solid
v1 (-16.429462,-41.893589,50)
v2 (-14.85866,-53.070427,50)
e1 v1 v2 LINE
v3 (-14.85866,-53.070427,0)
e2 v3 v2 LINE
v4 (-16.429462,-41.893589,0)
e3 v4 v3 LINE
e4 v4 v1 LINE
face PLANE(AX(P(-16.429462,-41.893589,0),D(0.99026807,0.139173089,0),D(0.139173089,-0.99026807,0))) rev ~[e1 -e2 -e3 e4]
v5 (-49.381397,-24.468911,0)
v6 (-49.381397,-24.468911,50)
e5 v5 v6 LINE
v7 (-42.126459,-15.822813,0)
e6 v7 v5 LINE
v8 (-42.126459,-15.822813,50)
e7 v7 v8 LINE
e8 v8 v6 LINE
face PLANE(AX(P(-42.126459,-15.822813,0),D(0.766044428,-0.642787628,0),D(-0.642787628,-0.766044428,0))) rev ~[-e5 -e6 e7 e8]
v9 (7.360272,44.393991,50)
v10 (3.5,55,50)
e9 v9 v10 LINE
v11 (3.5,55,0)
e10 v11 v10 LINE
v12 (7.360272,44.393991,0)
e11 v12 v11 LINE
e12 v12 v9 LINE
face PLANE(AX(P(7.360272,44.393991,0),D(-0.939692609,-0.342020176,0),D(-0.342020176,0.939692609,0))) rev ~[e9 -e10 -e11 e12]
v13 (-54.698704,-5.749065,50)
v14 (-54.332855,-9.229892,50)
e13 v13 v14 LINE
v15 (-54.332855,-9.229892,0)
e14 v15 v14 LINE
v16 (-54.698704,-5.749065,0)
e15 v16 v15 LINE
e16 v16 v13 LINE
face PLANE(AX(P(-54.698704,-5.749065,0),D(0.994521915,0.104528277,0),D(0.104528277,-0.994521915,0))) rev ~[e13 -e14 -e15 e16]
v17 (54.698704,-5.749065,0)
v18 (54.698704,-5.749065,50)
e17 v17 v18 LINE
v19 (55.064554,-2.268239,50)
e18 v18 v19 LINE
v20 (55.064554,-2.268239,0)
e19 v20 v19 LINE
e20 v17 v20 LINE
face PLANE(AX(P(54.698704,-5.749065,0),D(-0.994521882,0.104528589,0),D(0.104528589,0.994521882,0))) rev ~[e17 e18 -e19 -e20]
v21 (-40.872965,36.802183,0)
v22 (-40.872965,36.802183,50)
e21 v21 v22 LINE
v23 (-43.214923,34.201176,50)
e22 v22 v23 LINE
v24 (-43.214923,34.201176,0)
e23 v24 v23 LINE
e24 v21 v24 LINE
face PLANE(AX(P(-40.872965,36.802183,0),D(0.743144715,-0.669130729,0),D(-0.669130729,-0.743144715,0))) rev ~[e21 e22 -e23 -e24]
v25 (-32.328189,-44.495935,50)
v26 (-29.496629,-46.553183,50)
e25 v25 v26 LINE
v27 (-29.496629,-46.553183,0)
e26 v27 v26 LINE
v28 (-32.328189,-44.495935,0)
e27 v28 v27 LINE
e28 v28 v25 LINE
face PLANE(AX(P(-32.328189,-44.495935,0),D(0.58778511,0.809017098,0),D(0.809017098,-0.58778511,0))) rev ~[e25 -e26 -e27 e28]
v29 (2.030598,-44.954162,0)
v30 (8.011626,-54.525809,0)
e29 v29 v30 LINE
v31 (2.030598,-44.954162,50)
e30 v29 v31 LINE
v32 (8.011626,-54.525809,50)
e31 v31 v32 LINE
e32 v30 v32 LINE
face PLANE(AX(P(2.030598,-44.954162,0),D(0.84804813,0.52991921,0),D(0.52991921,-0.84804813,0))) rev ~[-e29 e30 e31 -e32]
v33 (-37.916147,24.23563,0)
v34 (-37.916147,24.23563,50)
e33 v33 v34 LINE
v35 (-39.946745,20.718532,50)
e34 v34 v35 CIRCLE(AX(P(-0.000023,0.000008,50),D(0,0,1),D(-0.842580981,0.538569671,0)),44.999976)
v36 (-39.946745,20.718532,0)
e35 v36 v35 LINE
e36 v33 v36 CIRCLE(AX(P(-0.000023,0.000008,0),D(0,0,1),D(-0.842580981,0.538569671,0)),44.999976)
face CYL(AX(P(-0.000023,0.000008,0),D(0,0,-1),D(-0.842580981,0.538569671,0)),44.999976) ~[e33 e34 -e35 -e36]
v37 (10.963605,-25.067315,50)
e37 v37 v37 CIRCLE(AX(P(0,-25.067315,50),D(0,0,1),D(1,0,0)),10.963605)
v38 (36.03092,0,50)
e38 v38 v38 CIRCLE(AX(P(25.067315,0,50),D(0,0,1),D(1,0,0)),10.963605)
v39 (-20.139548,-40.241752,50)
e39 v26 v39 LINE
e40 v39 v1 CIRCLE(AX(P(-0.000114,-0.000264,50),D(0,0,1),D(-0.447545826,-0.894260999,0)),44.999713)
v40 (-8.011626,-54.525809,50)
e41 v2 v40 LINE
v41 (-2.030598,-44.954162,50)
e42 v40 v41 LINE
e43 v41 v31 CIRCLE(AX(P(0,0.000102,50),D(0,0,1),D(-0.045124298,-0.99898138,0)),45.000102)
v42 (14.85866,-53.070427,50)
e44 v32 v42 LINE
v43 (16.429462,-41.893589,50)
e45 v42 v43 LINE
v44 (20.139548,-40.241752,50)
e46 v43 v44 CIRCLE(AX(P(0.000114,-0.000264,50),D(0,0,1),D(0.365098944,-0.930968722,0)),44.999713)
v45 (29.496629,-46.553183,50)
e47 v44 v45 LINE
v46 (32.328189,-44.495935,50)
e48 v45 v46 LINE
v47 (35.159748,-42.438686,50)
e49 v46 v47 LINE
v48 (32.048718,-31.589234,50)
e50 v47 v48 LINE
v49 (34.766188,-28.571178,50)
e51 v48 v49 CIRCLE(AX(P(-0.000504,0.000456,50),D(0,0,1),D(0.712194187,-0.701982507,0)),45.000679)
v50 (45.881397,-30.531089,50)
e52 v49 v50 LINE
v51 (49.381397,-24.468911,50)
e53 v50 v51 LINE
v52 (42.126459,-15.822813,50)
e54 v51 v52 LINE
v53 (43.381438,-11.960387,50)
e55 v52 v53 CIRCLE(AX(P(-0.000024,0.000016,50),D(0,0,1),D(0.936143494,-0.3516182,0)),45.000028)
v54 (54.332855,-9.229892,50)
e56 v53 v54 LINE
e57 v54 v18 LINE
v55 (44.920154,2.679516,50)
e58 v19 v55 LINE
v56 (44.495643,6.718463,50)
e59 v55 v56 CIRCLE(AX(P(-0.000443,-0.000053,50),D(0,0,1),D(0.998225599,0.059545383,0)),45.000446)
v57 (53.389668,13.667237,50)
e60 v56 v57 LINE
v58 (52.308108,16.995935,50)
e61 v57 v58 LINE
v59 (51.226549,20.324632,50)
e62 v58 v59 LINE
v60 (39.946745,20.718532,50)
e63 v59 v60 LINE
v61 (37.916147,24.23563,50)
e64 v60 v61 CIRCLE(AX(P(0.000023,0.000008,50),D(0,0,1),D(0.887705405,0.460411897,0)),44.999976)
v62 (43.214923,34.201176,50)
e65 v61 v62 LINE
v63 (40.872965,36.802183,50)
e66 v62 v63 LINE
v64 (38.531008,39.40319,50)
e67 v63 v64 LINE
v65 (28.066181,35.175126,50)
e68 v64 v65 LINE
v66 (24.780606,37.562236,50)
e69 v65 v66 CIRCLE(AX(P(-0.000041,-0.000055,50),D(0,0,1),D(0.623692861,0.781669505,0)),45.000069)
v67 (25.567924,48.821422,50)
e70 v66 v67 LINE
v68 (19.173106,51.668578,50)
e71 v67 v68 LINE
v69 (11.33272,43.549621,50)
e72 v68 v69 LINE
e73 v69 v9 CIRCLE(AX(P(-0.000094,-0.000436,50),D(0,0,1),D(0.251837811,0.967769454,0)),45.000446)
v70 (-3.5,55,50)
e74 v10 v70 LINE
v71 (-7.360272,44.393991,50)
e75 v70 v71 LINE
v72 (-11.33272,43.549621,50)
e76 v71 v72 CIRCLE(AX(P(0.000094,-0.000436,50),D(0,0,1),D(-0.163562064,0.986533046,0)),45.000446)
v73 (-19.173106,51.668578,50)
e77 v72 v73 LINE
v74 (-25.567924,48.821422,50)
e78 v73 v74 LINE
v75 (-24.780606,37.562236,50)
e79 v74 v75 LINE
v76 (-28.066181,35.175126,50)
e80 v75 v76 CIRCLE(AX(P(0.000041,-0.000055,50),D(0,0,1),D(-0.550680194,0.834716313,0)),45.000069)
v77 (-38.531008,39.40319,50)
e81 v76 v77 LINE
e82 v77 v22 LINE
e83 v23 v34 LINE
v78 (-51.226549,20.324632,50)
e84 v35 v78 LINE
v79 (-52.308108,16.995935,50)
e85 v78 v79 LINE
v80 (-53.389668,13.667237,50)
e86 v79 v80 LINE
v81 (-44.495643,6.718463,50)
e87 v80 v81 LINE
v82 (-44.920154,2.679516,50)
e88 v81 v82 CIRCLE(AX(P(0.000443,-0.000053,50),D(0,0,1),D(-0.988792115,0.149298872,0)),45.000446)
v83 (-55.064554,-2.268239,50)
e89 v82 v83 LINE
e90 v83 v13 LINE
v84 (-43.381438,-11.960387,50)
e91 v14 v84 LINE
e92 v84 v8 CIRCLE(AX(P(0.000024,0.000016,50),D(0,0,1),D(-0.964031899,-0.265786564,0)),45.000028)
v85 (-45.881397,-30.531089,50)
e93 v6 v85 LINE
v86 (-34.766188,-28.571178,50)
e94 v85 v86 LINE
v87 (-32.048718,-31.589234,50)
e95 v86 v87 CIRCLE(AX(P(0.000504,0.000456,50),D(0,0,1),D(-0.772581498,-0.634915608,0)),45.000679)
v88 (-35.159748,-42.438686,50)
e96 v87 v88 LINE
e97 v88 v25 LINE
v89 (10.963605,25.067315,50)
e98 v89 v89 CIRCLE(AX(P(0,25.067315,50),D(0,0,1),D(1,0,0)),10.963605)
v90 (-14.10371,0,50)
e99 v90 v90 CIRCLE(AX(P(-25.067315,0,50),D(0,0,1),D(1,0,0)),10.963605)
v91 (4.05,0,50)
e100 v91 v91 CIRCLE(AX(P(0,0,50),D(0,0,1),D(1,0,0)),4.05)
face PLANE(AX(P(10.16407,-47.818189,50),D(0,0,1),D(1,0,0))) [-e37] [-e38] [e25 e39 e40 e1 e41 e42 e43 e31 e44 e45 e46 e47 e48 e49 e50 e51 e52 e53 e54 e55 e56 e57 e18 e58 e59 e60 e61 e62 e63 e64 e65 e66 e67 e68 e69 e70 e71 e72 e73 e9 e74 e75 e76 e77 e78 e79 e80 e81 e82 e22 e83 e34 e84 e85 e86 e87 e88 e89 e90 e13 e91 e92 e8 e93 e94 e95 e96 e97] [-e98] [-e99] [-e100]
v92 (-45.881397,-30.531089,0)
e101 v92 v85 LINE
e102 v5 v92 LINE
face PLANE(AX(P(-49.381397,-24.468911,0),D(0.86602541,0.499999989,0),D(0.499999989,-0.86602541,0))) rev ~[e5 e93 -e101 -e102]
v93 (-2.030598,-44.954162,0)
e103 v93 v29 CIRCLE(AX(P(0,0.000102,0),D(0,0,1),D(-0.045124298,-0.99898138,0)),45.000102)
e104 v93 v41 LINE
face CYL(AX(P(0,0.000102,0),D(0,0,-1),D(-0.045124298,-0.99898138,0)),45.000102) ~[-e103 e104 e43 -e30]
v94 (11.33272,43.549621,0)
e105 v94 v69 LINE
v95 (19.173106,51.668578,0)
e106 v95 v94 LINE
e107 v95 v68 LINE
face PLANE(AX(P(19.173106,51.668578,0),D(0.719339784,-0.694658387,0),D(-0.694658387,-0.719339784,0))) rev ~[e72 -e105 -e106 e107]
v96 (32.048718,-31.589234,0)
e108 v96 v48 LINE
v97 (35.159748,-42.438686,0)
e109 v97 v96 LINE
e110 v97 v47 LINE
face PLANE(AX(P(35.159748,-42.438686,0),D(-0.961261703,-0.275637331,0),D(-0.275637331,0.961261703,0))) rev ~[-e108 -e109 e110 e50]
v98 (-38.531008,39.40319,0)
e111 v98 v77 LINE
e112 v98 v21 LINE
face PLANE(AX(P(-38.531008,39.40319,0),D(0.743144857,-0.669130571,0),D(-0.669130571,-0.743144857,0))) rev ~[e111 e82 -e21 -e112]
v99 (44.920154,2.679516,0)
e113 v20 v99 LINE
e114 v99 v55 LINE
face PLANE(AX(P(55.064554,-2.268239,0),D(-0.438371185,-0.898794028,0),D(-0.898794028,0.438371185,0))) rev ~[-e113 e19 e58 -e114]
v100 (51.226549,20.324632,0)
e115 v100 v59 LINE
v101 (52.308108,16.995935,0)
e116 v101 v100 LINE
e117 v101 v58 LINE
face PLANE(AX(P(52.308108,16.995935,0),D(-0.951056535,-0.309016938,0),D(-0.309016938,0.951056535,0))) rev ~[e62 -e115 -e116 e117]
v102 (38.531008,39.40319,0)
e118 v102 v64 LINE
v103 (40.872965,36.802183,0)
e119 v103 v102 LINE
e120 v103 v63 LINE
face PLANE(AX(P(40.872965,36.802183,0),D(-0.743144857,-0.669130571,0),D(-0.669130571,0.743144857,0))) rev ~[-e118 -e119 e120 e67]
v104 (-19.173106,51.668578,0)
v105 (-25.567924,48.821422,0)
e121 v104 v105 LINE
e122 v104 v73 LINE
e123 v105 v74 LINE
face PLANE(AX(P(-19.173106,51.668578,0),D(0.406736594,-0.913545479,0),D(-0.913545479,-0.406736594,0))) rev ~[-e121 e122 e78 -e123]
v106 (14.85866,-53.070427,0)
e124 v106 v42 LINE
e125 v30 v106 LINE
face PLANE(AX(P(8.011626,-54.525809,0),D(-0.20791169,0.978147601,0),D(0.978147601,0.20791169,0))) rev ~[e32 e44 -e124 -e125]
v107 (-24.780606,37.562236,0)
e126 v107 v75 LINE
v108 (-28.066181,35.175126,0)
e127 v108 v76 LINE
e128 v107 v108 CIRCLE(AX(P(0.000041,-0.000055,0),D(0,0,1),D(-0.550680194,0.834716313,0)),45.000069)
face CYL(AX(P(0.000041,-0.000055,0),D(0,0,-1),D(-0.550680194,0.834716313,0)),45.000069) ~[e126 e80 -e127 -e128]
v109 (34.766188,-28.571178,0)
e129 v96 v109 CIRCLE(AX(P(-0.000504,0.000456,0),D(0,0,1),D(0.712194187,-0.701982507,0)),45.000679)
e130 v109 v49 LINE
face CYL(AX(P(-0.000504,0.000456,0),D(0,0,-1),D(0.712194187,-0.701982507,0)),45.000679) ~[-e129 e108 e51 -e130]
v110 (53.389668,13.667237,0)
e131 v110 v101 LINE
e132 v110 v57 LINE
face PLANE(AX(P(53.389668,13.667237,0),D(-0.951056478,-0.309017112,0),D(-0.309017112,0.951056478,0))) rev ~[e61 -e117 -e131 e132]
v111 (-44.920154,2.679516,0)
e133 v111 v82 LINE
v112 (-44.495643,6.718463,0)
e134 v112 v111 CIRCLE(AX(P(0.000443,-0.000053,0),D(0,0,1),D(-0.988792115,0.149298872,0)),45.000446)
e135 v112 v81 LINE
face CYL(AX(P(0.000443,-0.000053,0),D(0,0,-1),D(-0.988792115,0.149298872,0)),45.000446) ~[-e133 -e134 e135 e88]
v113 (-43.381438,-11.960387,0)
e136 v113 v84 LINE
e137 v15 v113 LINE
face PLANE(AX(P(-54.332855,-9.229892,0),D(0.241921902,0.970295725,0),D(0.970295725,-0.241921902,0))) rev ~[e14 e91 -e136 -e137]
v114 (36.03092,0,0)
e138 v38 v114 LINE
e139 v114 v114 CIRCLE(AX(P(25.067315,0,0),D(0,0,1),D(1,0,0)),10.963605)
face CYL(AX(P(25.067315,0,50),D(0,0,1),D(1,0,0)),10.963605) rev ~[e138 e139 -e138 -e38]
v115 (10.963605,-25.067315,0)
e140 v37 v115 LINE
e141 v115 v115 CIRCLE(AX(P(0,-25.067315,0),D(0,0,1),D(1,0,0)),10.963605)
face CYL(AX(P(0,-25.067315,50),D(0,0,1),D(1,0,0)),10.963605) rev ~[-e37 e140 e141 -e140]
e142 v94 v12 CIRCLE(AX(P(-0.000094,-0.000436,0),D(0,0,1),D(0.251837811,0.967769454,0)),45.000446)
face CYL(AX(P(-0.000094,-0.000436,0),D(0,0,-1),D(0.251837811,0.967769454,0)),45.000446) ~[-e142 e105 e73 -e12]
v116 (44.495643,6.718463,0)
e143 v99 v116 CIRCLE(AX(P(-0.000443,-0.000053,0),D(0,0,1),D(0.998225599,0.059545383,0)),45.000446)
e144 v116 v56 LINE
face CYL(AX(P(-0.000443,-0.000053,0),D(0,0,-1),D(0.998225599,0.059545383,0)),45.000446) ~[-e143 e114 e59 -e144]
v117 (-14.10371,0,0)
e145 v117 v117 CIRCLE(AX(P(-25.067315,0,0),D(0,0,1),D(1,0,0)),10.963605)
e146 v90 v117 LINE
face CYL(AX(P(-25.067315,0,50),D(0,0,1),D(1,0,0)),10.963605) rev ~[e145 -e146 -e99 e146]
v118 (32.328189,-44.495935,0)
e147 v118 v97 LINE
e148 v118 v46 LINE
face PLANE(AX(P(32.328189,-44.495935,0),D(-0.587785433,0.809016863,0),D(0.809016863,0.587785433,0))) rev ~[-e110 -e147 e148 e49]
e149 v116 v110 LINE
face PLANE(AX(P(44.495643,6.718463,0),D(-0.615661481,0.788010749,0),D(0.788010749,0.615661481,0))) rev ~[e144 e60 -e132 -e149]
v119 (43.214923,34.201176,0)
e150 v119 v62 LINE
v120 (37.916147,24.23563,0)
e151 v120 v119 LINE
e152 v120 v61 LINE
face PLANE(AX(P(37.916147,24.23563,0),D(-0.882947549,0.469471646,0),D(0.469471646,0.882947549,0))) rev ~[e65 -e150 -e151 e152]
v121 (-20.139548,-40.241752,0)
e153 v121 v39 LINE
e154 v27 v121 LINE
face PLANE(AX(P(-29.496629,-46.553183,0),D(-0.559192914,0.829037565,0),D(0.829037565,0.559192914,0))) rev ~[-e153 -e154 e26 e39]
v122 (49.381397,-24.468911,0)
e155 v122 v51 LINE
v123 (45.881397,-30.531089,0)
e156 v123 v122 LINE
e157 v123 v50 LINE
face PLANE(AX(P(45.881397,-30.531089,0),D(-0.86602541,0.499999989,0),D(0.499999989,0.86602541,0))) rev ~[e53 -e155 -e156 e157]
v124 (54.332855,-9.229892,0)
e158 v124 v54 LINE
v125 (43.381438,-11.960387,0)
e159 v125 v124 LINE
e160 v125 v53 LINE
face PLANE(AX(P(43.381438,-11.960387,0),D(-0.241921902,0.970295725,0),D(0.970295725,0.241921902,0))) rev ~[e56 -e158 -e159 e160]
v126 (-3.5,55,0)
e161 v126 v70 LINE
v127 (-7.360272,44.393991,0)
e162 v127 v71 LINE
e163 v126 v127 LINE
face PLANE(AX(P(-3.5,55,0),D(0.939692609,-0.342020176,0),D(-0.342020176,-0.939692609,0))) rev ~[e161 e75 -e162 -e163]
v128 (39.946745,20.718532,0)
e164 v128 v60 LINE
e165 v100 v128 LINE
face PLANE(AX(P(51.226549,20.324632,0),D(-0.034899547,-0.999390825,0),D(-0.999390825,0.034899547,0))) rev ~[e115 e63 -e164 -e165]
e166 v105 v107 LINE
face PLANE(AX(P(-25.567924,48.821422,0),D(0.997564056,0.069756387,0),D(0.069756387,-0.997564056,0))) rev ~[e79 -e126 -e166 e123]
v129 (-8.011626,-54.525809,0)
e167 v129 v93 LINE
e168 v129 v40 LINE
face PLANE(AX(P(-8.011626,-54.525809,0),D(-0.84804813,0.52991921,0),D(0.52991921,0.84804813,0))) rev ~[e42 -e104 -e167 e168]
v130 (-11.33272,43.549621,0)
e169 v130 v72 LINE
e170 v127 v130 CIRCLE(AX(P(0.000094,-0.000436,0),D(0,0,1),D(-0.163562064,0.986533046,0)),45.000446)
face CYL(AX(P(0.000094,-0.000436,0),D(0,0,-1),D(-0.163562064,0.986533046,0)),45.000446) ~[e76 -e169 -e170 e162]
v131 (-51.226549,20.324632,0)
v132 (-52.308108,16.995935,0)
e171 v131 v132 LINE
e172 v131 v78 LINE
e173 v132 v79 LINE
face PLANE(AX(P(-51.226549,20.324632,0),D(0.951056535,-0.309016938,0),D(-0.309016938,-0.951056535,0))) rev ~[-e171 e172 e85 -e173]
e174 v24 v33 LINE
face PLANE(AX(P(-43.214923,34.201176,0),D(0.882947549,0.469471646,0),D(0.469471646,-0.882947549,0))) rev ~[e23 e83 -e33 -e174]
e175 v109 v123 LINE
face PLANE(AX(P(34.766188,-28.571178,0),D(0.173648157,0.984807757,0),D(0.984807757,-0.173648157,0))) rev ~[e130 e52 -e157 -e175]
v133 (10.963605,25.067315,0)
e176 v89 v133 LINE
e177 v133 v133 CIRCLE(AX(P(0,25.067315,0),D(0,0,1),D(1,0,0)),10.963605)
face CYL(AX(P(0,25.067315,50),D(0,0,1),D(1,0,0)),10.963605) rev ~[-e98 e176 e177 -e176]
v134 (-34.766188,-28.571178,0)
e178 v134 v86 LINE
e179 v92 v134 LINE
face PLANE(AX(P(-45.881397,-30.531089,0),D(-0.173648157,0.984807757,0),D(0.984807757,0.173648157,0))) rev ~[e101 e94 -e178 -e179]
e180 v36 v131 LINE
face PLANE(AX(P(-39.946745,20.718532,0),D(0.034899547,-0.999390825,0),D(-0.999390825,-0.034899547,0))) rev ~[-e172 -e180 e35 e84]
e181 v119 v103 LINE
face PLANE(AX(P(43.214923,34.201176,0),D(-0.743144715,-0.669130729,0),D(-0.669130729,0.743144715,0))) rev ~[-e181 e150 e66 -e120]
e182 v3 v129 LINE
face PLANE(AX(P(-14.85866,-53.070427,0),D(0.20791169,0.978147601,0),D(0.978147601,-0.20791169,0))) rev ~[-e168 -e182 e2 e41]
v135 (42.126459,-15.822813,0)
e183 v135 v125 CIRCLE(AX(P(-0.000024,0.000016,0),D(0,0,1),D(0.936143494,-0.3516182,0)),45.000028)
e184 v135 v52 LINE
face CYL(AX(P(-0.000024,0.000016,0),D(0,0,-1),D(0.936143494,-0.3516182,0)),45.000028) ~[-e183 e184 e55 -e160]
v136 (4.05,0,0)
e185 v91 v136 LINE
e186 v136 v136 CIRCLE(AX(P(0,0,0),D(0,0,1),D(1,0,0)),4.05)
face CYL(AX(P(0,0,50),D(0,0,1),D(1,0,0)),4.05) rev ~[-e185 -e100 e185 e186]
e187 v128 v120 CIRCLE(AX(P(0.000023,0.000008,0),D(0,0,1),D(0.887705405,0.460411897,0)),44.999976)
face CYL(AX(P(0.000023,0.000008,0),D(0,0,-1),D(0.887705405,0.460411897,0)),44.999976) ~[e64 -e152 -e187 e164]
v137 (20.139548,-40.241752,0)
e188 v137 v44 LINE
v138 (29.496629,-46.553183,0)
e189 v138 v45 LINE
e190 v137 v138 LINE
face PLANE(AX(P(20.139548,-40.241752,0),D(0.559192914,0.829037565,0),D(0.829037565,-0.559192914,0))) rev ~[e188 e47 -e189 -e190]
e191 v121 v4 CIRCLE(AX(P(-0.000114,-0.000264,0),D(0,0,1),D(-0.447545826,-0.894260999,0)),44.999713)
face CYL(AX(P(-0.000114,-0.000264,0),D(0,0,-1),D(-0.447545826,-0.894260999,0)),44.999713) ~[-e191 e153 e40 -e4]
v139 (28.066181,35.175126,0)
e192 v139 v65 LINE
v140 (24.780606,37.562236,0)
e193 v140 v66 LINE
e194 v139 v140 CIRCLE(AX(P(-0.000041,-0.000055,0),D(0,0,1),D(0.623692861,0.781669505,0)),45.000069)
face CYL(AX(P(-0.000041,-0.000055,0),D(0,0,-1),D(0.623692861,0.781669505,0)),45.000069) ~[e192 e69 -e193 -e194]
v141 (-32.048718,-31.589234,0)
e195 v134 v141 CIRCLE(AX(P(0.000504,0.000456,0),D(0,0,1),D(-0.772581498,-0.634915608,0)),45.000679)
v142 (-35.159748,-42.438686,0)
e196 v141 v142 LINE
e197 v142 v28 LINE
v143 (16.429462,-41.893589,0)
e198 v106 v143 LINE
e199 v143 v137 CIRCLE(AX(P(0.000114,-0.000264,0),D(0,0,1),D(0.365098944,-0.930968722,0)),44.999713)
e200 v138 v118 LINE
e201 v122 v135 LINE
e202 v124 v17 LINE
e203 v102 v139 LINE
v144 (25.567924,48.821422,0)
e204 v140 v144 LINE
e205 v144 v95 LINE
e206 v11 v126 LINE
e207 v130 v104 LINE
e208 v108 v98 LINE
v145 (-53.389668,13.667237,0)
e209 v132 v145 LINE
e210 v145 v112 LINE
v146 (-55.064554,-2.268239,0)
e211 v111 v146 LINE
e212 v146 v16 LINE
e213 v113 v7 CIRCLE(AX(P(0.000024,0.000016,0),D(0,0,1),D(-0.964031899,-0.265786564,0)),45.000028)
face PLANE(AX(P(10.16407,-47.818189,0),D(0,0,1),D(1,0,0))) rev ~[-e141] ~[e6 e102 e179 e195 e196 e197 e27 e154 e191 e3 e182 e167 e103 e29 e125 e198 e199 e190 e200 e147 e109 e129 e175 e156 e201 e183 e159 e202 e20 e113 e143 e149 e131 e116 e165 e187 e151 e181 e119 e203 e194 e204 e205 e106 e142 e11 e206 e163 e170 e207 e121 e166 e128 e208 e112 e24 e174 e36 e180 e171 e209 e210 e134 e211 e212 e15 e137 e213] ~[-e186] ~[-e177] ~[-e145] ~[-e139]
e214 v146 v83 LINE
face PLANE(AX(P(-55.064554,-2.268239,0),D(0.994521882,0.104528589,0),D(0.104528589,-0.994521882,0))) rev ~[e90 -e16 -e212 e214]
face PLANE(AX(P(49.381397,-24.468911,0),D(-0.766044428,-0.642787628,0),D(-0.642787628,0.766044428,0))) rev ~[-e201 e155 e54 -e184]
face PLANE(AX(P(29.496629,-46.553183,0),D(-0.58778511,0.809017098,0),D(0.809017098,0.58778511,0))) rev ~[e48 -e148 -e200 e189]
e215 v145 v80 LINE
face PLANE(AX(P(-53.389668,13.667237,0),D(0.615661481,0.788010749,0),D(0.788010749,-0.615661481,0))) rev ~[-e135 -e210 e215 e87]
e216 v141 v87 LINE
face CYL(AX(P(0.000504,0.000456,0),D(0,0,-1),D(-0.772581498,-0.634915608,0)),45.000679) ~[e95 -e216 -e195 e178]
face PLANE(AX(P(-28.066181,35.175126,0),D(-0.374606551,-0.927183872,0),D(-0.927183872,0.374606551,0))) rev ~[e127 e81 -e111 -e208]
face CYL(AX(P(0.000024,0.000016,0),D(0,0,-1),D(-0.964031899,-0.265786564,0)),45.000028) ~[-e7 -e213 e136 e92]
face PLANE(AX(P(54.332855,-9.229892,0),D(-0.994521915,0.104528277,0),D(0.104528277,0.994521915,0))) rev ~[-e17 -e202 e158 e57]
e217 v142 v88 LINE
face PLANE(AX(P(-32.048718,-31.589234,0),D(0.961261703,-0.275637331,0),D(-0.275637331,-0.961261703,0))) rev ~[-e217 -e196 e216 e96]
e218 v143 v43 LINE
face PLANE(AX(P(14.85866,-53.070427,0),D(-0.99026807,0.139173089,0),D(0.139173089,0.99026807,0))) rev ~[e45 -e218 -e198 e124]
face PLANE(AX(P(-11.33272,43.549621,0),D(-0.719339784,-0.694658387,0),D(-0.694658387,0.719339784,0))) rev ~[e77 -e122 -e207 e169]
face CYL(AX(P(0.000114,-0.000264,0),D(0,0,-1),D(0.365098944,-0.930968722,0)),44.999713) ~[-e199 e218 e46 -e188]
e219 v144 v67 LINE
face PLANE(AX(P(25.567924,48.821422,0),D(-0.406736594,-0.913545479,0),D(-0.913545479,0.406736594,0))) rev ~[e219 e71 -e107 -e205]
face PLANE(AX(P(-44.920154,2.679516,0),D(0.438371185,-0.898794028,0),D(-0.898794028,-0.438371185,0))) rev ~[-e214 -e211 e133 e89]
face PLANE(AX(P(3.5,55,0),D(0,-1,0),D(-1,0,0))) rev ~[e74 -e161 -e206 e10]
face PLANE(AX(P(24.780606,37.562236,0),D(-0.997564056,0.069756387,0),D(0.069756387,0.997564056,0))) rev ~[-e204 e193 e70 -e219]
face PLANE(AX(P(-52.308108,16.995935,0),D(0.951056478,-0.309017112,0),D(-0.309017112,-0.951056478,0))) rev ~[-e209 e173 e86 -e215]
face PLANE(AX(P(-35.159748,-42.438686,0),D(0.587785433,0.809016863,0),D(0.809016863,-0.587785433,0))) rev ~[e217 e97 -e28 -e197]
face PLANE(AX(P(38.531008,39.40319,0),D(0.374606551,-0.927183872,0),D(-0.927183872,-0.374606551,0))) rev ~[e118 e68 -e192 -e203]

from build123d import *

# Parameters (mm, degrees)
F0_R     = 4.05
F1_DEPTH = 50
F2_R     = 10.963605
F2_R_2   = 4.05
F3_DEPTH = 100


with BuildPart() as f1:
    # F0 (on Top) → F1 (new body)
    with BuildSketch(Plane.XY):
        with BuildLine():
            Line((14.85866, -53.070427), (16.429462, -41.893589))
            ThreePointArc((16.429462, -41.893589), (9.356026, -44.016642), (2.030598, -44.954162))
            Line((2.030598, -44.954162), (8.011626, -54.525809))
            Line((8.011626, -54.525809), (11.435143, -53.798118))
            Line((11.435143, -53.798118), (14.85866, -53.070427))
        make_face()
        with BuildLine():
            Line((-8.011626, -54.525809), (-2.030598, -44.954162))
            ThreePointArc((-2.030598, -44.954162), (-9.356026, -44.016642), (-16.429462, -41.893589))
            Line((-16.429462, -41.893589), (-14.85866, -53.070427))
            Line((-14.85866, -53.070427), (-11.435143, -53.798118))
            Line((-11.435143, -53.798118), (-8.011626, -54.525809))
        make_face()
        with BuildLine():
            Line((-29.496629, -46.553183), (-20.139548, -40.241752))
            ThreePointArc((-20.139548, -40.241752), (-26.450336, -36.405765), (-32.048718, -31.589234))
            Line((-32.048718, -31.589234), (-35.159748, -42.438686))
            Line((-35.159748, -42.438686), (-32.328189, -44.495935))
            Line((-32.328189, -44.495935), (-29.496629, -46.553183))
        make_face()
        with BuildLine():
            Line((-45.881397, -30.531089), (-34.766188, -28.571178))
            ThreePointArc((-34.766188, -28.571178), (-38.971143, -22.5), (-42.126459, -15.822813))
            Line((-42.126459, -15.822813), (-49.381397, -24.468911))
            Line((-49.381397, -24.468911), (-47.631397, -27.5))
            Line((-47.631397, -27.5), (-45.881397, -30.531089))
        make_face()
        with BuildLine():
            Line((-54.332855, -9.229892), (-43.381438, -11.960387))
            ThreePointArc((-43.381438, -11.960387), (-44.753485, -4.703781), (-44.920154, 2.679516))
            Line((-44.920154, 2.679516), (-55.064554, -2.268239))
            Line((-55.064554, -2.268239), (-54.698704, -5.749065))
            Line((-54.698704, -5.749065), (-54.332855, -9.229892))
        make_face()
        with BuildLine():
            ThreePointArc((-37.916147, 24.23563), (-33.441517, 30.110877), (-28.066181, 35.175126))
            Line((-28.066181, 35.175126), (-38.531008, 39.40319))
            Line((-38.531008, 39.40319), (-40.872965, 36.802183))
            Line((-40.872965, 36.802183), (-43.214923, 34.201176))
            Line((-43.214923, 34.201176), (-37.916147, 24.23563))
        make_face()
        with BuildLine():
            ThreePointArc((-44.495643, 6.718463), (-42.797543, 13.905765), (-39.946745, 20.718532))
            Line((-39.946745, 20.718532), (-51.226549, 20.324632))
            Line((-51.226549, 20.324632), (-52.308108, 16.995935))
            Line((-52.308108, 16.995935), (-53.389668, 13.667237))
            Line((-53.389668, 13.667237), (-44.495643, 6.718463))
        make_face()
        with BuildLine():
            ThreePointArc((-24.780606, 37.562236), (-18.303149, 41.109546), (-11.33272, 43.549621))
            Line((-11.33272, 43.549621), (-19.173106, 51.668578))
            Line((-19.173106, 51.668578), (-22.370515, 50.245))
            Line((-22.370515, 50.245), (-25.567924, 48.821422))
            Line((-25.567924, 48.821422), (-24.780606, 37.562236))
        make_face()
        with BuildLine():
            ThreePointArc((-7.360272, 44.393991), (0, 45), (7.360272, 44.393991))
            Line((7.360272, 44.393991), (3.5, 55))
            Line((3.5, 55), (0, 55))
            Line((0, 55), (-3.5, 55))
            Line((-3.5, 55), (-7.360272, 44.393991))
        make_face()
        with BuildLine():
            ThreePointArc((11.33272, 43.549621), (18.303149, 41.109546), (24.780606, 37.562236))
            Line((24.780606, 37.562236), (25.567924, 48.821422))
            Line((25.567924, 48.821422), (22.370515, 50.245))
            Line((22.370515, 50.245), (19.173106, 51.668578))
            Line((19.173106, 51.668578), (11.33272, 43.549621))
        make_face()
        with BuildLine():
            ThreePointArc((28.066181, 35.175126), (33.441517, 30.110877), (37.916147, 24.23563))
            Line((37.916147, 24.23563), (43.214923, 34.201176))
            Line((43.214923, 34.201176), (40.872965, 36.802183))
            Line((40.872965, 36.802183), (38.531008, 39.40319))
            Line((38.531008, 39.40319), (28.066181, 35.175126))
        make_face()
        with BuildLine():
            ThreePointArc((39.946745, 20.718532), (42.797543, 13.905765), (44.495643, 6.718463))
            Line((44.495643, 6.718463), (53.389668, 13.667237))
            Line((53.389668, 13.667237), (52.308108, 16.995935))
            Line((52.308108, 16.995935), (51.226549, 20.324632))
            Line((51.226549, 20.324632), (39.946745, 20.718532))
        make_face()
        with BuildLine():
            Line((49.381397, -24.468911), (42.126459, -15.822813))
            ThreePointArc((42.126459, -15.822813), (38.971143, -22.5), (34.766188, -28.571178))
            Line((34.766188, -28.571178), (45.881397, -30.531089))
            Line((45.881397, -30.531089), (47.631397, -27.5))
            Line((47.631397, -27.5), (49.381397, -24.468911))
        make_face()
        with BuildLine():
            ThreePointArc((43.381438, -11.960387), (44.593524, -6.034704), (45, 0))
            ThreePointArc((45, 0), (44.980034, 1.340353), (44.920154, 2.679516))
            ThreePointArc((44.920154, 2.679516), (44.753485, 4.703781), (44.495643, 6.718463))
            ThreePointArc((44.495643, 6.718463), (42.797543, 13.905765), (39.946745, 20.718532))
            ThreePointArc((39.946745, 20.718532), (38.971143, 22.5), (37.916147, 24.23563))
            ThreePointArc((37.916147, 24.23563), (33.441517, 30.110877), (28.066181, 35.175126))
            ThreePointArc((28.066181, 35.175126), (26.450336, 36.405765), (24.780606, 37.562236))
            ThreePointArc((24.780606, 37.562236), (18.303149, 41.109546), (11.33272, 43.549621))
            ThreePointArc((11.33272, 43.549621), (9.356026, 44.016642), (7.360272, 44.393991))
            ThreePointArc((7.360272, 44.393991), (0, 45), (-7.360272, 44.393991))
            ThreePointArc((-7.360272, 44.393991), (-9.356026, 44.016642), (-11.33272, 43.549621))
            ThreePointArc((-11.33272, 43.549621), (-18.303149, 41.109546), (-24.780606, 37.562236))
            ThreePointArc((-24.780606, 37.562236), (-26.450336, 36.405765), (-28.066181, 35.175126))
            ThreePointArc((-28.066181, 35.175126), (-33.441517, 30.110877), (-37.916147, 24.23563))
            ThreePointArc((-37.916147, 24.23563), (-38.971143, 22.5), (-39.946745, 20.718532))
            ThreePointArc((-39.946745, 20.718532), (-42.797543, 13.905765), (-44.495643, 6.718463))
            ThreePointArc((-44.495643, 6.718463), (-44.753485, 4.703781), (-44.920154, 2.679516))
            ThreePointArc((-44.920154, 2.679516), (-44.753485, -4.703781), (-43.381438, -11.960387))
            ThreePointArc((-43.381438, -11.960387), (-42.797543, -13.905765), (-42.126459, -15.822813))
            ThreePointArc((-42.126459, -15.822813), (-38.971143, -22.5), (-34.766188, -28.571178))
            ThreePointArc((-34.766188, -28.571178), (-33.441517, -30.110877), (-32.048718, -31.589234))
            ThreePointArc((-32.048718, -31.589234), (-26.450336, -36.405765), (-20.139548, -40.241752))
            ThreePointArc((-20.139548, -40.241752), (-18.303149, -41.109546), (-16.429462, -41.893589))
            ThreePointArc((-16.429462, -41.893589), (-9.356026, -44.016642), (-2.030598, -44.954162))
            ThreePointArc((-2.030598, -44.954162), (0, -45), (2.030598, -44.954162))
            ThreePointArc((2.030598, -44.954162), (9.356026, -44.016642), (16.429462, -41.893589))
            ThreePointArc((16.429462, -41.893589), (18.303149, -41.109546), (20.139548, -40.241752))
            ThreePointArc((20.139548, -40.241752), (26.450336, -36.405765), (32.048718, -31.589234))
            ThreePointArc((32.048718, -31.589234), (33.441517, -30.110877), (34.766188, -28.571178))
            ThreePointArc((34.766188, -28.571178), (38.971143, -22.5), (42.126459, -15.822813))
            ThreePointArc((42.126459, -15.822813), (42.797543, -13.905765), (43.381438, -11.960387))
        make_face()
        Circle(F0_R, mode=Mode.SUBTRACT)
        with BuildLine():
            Line((35.159748, -42.438686), (32.048718, -31.589234))
            ThreePointArc((32.048718, -31.589234), (26.450336, -36.405765), (20.139548, -40.241752))
            Line((20.139548, -40.241752), (29.496629, -46.553183))
            Line((29.496629, -46.553183), (32.328189, -44.495935))
            Line((32.328189, -44.495935), (35.159748, -42.438686))
        make_face()
        with BuildLine():
            ThreePointArc((44.920154, 2.679516), (44.980034, 1.340353), (45, 0))
            ThreePointArc((45, 0), (44.593524, -6.034704), (43.381438, -11.960387))
            Line((43.381438, -11.960387), (54.332855, -9.229892))
            Line((54.332855, -9.229892), (54.698704, -5.749065))
            Line((54.698704, -5.749065), (55.064554, -2.268239))
            Line((55.064554, -2.268239), (44.920154, 2.679516))
        make_face()
        Circle(F0_R)
    extrude(amount=F1_DEPTH)

    # F2 (on face) → F3 (cut)
    with BuildSketch(Plane.XY.offset(50)):
        with Locations((0, 25.067315)):
            Circle(F2_R)
        with Locations((-25.067315, 0)):
            Circle(F2_R)
        with Locations((25.067315, 0)):
            Circle(F2_R)
        Circle(F2_R_2)
        with Locations((0, -25.067315)):
            Circle(F2_R)
    extrude(amount=-F3_DEPTH, mode=Mode.SUBTRACT)


solid = f1.part
